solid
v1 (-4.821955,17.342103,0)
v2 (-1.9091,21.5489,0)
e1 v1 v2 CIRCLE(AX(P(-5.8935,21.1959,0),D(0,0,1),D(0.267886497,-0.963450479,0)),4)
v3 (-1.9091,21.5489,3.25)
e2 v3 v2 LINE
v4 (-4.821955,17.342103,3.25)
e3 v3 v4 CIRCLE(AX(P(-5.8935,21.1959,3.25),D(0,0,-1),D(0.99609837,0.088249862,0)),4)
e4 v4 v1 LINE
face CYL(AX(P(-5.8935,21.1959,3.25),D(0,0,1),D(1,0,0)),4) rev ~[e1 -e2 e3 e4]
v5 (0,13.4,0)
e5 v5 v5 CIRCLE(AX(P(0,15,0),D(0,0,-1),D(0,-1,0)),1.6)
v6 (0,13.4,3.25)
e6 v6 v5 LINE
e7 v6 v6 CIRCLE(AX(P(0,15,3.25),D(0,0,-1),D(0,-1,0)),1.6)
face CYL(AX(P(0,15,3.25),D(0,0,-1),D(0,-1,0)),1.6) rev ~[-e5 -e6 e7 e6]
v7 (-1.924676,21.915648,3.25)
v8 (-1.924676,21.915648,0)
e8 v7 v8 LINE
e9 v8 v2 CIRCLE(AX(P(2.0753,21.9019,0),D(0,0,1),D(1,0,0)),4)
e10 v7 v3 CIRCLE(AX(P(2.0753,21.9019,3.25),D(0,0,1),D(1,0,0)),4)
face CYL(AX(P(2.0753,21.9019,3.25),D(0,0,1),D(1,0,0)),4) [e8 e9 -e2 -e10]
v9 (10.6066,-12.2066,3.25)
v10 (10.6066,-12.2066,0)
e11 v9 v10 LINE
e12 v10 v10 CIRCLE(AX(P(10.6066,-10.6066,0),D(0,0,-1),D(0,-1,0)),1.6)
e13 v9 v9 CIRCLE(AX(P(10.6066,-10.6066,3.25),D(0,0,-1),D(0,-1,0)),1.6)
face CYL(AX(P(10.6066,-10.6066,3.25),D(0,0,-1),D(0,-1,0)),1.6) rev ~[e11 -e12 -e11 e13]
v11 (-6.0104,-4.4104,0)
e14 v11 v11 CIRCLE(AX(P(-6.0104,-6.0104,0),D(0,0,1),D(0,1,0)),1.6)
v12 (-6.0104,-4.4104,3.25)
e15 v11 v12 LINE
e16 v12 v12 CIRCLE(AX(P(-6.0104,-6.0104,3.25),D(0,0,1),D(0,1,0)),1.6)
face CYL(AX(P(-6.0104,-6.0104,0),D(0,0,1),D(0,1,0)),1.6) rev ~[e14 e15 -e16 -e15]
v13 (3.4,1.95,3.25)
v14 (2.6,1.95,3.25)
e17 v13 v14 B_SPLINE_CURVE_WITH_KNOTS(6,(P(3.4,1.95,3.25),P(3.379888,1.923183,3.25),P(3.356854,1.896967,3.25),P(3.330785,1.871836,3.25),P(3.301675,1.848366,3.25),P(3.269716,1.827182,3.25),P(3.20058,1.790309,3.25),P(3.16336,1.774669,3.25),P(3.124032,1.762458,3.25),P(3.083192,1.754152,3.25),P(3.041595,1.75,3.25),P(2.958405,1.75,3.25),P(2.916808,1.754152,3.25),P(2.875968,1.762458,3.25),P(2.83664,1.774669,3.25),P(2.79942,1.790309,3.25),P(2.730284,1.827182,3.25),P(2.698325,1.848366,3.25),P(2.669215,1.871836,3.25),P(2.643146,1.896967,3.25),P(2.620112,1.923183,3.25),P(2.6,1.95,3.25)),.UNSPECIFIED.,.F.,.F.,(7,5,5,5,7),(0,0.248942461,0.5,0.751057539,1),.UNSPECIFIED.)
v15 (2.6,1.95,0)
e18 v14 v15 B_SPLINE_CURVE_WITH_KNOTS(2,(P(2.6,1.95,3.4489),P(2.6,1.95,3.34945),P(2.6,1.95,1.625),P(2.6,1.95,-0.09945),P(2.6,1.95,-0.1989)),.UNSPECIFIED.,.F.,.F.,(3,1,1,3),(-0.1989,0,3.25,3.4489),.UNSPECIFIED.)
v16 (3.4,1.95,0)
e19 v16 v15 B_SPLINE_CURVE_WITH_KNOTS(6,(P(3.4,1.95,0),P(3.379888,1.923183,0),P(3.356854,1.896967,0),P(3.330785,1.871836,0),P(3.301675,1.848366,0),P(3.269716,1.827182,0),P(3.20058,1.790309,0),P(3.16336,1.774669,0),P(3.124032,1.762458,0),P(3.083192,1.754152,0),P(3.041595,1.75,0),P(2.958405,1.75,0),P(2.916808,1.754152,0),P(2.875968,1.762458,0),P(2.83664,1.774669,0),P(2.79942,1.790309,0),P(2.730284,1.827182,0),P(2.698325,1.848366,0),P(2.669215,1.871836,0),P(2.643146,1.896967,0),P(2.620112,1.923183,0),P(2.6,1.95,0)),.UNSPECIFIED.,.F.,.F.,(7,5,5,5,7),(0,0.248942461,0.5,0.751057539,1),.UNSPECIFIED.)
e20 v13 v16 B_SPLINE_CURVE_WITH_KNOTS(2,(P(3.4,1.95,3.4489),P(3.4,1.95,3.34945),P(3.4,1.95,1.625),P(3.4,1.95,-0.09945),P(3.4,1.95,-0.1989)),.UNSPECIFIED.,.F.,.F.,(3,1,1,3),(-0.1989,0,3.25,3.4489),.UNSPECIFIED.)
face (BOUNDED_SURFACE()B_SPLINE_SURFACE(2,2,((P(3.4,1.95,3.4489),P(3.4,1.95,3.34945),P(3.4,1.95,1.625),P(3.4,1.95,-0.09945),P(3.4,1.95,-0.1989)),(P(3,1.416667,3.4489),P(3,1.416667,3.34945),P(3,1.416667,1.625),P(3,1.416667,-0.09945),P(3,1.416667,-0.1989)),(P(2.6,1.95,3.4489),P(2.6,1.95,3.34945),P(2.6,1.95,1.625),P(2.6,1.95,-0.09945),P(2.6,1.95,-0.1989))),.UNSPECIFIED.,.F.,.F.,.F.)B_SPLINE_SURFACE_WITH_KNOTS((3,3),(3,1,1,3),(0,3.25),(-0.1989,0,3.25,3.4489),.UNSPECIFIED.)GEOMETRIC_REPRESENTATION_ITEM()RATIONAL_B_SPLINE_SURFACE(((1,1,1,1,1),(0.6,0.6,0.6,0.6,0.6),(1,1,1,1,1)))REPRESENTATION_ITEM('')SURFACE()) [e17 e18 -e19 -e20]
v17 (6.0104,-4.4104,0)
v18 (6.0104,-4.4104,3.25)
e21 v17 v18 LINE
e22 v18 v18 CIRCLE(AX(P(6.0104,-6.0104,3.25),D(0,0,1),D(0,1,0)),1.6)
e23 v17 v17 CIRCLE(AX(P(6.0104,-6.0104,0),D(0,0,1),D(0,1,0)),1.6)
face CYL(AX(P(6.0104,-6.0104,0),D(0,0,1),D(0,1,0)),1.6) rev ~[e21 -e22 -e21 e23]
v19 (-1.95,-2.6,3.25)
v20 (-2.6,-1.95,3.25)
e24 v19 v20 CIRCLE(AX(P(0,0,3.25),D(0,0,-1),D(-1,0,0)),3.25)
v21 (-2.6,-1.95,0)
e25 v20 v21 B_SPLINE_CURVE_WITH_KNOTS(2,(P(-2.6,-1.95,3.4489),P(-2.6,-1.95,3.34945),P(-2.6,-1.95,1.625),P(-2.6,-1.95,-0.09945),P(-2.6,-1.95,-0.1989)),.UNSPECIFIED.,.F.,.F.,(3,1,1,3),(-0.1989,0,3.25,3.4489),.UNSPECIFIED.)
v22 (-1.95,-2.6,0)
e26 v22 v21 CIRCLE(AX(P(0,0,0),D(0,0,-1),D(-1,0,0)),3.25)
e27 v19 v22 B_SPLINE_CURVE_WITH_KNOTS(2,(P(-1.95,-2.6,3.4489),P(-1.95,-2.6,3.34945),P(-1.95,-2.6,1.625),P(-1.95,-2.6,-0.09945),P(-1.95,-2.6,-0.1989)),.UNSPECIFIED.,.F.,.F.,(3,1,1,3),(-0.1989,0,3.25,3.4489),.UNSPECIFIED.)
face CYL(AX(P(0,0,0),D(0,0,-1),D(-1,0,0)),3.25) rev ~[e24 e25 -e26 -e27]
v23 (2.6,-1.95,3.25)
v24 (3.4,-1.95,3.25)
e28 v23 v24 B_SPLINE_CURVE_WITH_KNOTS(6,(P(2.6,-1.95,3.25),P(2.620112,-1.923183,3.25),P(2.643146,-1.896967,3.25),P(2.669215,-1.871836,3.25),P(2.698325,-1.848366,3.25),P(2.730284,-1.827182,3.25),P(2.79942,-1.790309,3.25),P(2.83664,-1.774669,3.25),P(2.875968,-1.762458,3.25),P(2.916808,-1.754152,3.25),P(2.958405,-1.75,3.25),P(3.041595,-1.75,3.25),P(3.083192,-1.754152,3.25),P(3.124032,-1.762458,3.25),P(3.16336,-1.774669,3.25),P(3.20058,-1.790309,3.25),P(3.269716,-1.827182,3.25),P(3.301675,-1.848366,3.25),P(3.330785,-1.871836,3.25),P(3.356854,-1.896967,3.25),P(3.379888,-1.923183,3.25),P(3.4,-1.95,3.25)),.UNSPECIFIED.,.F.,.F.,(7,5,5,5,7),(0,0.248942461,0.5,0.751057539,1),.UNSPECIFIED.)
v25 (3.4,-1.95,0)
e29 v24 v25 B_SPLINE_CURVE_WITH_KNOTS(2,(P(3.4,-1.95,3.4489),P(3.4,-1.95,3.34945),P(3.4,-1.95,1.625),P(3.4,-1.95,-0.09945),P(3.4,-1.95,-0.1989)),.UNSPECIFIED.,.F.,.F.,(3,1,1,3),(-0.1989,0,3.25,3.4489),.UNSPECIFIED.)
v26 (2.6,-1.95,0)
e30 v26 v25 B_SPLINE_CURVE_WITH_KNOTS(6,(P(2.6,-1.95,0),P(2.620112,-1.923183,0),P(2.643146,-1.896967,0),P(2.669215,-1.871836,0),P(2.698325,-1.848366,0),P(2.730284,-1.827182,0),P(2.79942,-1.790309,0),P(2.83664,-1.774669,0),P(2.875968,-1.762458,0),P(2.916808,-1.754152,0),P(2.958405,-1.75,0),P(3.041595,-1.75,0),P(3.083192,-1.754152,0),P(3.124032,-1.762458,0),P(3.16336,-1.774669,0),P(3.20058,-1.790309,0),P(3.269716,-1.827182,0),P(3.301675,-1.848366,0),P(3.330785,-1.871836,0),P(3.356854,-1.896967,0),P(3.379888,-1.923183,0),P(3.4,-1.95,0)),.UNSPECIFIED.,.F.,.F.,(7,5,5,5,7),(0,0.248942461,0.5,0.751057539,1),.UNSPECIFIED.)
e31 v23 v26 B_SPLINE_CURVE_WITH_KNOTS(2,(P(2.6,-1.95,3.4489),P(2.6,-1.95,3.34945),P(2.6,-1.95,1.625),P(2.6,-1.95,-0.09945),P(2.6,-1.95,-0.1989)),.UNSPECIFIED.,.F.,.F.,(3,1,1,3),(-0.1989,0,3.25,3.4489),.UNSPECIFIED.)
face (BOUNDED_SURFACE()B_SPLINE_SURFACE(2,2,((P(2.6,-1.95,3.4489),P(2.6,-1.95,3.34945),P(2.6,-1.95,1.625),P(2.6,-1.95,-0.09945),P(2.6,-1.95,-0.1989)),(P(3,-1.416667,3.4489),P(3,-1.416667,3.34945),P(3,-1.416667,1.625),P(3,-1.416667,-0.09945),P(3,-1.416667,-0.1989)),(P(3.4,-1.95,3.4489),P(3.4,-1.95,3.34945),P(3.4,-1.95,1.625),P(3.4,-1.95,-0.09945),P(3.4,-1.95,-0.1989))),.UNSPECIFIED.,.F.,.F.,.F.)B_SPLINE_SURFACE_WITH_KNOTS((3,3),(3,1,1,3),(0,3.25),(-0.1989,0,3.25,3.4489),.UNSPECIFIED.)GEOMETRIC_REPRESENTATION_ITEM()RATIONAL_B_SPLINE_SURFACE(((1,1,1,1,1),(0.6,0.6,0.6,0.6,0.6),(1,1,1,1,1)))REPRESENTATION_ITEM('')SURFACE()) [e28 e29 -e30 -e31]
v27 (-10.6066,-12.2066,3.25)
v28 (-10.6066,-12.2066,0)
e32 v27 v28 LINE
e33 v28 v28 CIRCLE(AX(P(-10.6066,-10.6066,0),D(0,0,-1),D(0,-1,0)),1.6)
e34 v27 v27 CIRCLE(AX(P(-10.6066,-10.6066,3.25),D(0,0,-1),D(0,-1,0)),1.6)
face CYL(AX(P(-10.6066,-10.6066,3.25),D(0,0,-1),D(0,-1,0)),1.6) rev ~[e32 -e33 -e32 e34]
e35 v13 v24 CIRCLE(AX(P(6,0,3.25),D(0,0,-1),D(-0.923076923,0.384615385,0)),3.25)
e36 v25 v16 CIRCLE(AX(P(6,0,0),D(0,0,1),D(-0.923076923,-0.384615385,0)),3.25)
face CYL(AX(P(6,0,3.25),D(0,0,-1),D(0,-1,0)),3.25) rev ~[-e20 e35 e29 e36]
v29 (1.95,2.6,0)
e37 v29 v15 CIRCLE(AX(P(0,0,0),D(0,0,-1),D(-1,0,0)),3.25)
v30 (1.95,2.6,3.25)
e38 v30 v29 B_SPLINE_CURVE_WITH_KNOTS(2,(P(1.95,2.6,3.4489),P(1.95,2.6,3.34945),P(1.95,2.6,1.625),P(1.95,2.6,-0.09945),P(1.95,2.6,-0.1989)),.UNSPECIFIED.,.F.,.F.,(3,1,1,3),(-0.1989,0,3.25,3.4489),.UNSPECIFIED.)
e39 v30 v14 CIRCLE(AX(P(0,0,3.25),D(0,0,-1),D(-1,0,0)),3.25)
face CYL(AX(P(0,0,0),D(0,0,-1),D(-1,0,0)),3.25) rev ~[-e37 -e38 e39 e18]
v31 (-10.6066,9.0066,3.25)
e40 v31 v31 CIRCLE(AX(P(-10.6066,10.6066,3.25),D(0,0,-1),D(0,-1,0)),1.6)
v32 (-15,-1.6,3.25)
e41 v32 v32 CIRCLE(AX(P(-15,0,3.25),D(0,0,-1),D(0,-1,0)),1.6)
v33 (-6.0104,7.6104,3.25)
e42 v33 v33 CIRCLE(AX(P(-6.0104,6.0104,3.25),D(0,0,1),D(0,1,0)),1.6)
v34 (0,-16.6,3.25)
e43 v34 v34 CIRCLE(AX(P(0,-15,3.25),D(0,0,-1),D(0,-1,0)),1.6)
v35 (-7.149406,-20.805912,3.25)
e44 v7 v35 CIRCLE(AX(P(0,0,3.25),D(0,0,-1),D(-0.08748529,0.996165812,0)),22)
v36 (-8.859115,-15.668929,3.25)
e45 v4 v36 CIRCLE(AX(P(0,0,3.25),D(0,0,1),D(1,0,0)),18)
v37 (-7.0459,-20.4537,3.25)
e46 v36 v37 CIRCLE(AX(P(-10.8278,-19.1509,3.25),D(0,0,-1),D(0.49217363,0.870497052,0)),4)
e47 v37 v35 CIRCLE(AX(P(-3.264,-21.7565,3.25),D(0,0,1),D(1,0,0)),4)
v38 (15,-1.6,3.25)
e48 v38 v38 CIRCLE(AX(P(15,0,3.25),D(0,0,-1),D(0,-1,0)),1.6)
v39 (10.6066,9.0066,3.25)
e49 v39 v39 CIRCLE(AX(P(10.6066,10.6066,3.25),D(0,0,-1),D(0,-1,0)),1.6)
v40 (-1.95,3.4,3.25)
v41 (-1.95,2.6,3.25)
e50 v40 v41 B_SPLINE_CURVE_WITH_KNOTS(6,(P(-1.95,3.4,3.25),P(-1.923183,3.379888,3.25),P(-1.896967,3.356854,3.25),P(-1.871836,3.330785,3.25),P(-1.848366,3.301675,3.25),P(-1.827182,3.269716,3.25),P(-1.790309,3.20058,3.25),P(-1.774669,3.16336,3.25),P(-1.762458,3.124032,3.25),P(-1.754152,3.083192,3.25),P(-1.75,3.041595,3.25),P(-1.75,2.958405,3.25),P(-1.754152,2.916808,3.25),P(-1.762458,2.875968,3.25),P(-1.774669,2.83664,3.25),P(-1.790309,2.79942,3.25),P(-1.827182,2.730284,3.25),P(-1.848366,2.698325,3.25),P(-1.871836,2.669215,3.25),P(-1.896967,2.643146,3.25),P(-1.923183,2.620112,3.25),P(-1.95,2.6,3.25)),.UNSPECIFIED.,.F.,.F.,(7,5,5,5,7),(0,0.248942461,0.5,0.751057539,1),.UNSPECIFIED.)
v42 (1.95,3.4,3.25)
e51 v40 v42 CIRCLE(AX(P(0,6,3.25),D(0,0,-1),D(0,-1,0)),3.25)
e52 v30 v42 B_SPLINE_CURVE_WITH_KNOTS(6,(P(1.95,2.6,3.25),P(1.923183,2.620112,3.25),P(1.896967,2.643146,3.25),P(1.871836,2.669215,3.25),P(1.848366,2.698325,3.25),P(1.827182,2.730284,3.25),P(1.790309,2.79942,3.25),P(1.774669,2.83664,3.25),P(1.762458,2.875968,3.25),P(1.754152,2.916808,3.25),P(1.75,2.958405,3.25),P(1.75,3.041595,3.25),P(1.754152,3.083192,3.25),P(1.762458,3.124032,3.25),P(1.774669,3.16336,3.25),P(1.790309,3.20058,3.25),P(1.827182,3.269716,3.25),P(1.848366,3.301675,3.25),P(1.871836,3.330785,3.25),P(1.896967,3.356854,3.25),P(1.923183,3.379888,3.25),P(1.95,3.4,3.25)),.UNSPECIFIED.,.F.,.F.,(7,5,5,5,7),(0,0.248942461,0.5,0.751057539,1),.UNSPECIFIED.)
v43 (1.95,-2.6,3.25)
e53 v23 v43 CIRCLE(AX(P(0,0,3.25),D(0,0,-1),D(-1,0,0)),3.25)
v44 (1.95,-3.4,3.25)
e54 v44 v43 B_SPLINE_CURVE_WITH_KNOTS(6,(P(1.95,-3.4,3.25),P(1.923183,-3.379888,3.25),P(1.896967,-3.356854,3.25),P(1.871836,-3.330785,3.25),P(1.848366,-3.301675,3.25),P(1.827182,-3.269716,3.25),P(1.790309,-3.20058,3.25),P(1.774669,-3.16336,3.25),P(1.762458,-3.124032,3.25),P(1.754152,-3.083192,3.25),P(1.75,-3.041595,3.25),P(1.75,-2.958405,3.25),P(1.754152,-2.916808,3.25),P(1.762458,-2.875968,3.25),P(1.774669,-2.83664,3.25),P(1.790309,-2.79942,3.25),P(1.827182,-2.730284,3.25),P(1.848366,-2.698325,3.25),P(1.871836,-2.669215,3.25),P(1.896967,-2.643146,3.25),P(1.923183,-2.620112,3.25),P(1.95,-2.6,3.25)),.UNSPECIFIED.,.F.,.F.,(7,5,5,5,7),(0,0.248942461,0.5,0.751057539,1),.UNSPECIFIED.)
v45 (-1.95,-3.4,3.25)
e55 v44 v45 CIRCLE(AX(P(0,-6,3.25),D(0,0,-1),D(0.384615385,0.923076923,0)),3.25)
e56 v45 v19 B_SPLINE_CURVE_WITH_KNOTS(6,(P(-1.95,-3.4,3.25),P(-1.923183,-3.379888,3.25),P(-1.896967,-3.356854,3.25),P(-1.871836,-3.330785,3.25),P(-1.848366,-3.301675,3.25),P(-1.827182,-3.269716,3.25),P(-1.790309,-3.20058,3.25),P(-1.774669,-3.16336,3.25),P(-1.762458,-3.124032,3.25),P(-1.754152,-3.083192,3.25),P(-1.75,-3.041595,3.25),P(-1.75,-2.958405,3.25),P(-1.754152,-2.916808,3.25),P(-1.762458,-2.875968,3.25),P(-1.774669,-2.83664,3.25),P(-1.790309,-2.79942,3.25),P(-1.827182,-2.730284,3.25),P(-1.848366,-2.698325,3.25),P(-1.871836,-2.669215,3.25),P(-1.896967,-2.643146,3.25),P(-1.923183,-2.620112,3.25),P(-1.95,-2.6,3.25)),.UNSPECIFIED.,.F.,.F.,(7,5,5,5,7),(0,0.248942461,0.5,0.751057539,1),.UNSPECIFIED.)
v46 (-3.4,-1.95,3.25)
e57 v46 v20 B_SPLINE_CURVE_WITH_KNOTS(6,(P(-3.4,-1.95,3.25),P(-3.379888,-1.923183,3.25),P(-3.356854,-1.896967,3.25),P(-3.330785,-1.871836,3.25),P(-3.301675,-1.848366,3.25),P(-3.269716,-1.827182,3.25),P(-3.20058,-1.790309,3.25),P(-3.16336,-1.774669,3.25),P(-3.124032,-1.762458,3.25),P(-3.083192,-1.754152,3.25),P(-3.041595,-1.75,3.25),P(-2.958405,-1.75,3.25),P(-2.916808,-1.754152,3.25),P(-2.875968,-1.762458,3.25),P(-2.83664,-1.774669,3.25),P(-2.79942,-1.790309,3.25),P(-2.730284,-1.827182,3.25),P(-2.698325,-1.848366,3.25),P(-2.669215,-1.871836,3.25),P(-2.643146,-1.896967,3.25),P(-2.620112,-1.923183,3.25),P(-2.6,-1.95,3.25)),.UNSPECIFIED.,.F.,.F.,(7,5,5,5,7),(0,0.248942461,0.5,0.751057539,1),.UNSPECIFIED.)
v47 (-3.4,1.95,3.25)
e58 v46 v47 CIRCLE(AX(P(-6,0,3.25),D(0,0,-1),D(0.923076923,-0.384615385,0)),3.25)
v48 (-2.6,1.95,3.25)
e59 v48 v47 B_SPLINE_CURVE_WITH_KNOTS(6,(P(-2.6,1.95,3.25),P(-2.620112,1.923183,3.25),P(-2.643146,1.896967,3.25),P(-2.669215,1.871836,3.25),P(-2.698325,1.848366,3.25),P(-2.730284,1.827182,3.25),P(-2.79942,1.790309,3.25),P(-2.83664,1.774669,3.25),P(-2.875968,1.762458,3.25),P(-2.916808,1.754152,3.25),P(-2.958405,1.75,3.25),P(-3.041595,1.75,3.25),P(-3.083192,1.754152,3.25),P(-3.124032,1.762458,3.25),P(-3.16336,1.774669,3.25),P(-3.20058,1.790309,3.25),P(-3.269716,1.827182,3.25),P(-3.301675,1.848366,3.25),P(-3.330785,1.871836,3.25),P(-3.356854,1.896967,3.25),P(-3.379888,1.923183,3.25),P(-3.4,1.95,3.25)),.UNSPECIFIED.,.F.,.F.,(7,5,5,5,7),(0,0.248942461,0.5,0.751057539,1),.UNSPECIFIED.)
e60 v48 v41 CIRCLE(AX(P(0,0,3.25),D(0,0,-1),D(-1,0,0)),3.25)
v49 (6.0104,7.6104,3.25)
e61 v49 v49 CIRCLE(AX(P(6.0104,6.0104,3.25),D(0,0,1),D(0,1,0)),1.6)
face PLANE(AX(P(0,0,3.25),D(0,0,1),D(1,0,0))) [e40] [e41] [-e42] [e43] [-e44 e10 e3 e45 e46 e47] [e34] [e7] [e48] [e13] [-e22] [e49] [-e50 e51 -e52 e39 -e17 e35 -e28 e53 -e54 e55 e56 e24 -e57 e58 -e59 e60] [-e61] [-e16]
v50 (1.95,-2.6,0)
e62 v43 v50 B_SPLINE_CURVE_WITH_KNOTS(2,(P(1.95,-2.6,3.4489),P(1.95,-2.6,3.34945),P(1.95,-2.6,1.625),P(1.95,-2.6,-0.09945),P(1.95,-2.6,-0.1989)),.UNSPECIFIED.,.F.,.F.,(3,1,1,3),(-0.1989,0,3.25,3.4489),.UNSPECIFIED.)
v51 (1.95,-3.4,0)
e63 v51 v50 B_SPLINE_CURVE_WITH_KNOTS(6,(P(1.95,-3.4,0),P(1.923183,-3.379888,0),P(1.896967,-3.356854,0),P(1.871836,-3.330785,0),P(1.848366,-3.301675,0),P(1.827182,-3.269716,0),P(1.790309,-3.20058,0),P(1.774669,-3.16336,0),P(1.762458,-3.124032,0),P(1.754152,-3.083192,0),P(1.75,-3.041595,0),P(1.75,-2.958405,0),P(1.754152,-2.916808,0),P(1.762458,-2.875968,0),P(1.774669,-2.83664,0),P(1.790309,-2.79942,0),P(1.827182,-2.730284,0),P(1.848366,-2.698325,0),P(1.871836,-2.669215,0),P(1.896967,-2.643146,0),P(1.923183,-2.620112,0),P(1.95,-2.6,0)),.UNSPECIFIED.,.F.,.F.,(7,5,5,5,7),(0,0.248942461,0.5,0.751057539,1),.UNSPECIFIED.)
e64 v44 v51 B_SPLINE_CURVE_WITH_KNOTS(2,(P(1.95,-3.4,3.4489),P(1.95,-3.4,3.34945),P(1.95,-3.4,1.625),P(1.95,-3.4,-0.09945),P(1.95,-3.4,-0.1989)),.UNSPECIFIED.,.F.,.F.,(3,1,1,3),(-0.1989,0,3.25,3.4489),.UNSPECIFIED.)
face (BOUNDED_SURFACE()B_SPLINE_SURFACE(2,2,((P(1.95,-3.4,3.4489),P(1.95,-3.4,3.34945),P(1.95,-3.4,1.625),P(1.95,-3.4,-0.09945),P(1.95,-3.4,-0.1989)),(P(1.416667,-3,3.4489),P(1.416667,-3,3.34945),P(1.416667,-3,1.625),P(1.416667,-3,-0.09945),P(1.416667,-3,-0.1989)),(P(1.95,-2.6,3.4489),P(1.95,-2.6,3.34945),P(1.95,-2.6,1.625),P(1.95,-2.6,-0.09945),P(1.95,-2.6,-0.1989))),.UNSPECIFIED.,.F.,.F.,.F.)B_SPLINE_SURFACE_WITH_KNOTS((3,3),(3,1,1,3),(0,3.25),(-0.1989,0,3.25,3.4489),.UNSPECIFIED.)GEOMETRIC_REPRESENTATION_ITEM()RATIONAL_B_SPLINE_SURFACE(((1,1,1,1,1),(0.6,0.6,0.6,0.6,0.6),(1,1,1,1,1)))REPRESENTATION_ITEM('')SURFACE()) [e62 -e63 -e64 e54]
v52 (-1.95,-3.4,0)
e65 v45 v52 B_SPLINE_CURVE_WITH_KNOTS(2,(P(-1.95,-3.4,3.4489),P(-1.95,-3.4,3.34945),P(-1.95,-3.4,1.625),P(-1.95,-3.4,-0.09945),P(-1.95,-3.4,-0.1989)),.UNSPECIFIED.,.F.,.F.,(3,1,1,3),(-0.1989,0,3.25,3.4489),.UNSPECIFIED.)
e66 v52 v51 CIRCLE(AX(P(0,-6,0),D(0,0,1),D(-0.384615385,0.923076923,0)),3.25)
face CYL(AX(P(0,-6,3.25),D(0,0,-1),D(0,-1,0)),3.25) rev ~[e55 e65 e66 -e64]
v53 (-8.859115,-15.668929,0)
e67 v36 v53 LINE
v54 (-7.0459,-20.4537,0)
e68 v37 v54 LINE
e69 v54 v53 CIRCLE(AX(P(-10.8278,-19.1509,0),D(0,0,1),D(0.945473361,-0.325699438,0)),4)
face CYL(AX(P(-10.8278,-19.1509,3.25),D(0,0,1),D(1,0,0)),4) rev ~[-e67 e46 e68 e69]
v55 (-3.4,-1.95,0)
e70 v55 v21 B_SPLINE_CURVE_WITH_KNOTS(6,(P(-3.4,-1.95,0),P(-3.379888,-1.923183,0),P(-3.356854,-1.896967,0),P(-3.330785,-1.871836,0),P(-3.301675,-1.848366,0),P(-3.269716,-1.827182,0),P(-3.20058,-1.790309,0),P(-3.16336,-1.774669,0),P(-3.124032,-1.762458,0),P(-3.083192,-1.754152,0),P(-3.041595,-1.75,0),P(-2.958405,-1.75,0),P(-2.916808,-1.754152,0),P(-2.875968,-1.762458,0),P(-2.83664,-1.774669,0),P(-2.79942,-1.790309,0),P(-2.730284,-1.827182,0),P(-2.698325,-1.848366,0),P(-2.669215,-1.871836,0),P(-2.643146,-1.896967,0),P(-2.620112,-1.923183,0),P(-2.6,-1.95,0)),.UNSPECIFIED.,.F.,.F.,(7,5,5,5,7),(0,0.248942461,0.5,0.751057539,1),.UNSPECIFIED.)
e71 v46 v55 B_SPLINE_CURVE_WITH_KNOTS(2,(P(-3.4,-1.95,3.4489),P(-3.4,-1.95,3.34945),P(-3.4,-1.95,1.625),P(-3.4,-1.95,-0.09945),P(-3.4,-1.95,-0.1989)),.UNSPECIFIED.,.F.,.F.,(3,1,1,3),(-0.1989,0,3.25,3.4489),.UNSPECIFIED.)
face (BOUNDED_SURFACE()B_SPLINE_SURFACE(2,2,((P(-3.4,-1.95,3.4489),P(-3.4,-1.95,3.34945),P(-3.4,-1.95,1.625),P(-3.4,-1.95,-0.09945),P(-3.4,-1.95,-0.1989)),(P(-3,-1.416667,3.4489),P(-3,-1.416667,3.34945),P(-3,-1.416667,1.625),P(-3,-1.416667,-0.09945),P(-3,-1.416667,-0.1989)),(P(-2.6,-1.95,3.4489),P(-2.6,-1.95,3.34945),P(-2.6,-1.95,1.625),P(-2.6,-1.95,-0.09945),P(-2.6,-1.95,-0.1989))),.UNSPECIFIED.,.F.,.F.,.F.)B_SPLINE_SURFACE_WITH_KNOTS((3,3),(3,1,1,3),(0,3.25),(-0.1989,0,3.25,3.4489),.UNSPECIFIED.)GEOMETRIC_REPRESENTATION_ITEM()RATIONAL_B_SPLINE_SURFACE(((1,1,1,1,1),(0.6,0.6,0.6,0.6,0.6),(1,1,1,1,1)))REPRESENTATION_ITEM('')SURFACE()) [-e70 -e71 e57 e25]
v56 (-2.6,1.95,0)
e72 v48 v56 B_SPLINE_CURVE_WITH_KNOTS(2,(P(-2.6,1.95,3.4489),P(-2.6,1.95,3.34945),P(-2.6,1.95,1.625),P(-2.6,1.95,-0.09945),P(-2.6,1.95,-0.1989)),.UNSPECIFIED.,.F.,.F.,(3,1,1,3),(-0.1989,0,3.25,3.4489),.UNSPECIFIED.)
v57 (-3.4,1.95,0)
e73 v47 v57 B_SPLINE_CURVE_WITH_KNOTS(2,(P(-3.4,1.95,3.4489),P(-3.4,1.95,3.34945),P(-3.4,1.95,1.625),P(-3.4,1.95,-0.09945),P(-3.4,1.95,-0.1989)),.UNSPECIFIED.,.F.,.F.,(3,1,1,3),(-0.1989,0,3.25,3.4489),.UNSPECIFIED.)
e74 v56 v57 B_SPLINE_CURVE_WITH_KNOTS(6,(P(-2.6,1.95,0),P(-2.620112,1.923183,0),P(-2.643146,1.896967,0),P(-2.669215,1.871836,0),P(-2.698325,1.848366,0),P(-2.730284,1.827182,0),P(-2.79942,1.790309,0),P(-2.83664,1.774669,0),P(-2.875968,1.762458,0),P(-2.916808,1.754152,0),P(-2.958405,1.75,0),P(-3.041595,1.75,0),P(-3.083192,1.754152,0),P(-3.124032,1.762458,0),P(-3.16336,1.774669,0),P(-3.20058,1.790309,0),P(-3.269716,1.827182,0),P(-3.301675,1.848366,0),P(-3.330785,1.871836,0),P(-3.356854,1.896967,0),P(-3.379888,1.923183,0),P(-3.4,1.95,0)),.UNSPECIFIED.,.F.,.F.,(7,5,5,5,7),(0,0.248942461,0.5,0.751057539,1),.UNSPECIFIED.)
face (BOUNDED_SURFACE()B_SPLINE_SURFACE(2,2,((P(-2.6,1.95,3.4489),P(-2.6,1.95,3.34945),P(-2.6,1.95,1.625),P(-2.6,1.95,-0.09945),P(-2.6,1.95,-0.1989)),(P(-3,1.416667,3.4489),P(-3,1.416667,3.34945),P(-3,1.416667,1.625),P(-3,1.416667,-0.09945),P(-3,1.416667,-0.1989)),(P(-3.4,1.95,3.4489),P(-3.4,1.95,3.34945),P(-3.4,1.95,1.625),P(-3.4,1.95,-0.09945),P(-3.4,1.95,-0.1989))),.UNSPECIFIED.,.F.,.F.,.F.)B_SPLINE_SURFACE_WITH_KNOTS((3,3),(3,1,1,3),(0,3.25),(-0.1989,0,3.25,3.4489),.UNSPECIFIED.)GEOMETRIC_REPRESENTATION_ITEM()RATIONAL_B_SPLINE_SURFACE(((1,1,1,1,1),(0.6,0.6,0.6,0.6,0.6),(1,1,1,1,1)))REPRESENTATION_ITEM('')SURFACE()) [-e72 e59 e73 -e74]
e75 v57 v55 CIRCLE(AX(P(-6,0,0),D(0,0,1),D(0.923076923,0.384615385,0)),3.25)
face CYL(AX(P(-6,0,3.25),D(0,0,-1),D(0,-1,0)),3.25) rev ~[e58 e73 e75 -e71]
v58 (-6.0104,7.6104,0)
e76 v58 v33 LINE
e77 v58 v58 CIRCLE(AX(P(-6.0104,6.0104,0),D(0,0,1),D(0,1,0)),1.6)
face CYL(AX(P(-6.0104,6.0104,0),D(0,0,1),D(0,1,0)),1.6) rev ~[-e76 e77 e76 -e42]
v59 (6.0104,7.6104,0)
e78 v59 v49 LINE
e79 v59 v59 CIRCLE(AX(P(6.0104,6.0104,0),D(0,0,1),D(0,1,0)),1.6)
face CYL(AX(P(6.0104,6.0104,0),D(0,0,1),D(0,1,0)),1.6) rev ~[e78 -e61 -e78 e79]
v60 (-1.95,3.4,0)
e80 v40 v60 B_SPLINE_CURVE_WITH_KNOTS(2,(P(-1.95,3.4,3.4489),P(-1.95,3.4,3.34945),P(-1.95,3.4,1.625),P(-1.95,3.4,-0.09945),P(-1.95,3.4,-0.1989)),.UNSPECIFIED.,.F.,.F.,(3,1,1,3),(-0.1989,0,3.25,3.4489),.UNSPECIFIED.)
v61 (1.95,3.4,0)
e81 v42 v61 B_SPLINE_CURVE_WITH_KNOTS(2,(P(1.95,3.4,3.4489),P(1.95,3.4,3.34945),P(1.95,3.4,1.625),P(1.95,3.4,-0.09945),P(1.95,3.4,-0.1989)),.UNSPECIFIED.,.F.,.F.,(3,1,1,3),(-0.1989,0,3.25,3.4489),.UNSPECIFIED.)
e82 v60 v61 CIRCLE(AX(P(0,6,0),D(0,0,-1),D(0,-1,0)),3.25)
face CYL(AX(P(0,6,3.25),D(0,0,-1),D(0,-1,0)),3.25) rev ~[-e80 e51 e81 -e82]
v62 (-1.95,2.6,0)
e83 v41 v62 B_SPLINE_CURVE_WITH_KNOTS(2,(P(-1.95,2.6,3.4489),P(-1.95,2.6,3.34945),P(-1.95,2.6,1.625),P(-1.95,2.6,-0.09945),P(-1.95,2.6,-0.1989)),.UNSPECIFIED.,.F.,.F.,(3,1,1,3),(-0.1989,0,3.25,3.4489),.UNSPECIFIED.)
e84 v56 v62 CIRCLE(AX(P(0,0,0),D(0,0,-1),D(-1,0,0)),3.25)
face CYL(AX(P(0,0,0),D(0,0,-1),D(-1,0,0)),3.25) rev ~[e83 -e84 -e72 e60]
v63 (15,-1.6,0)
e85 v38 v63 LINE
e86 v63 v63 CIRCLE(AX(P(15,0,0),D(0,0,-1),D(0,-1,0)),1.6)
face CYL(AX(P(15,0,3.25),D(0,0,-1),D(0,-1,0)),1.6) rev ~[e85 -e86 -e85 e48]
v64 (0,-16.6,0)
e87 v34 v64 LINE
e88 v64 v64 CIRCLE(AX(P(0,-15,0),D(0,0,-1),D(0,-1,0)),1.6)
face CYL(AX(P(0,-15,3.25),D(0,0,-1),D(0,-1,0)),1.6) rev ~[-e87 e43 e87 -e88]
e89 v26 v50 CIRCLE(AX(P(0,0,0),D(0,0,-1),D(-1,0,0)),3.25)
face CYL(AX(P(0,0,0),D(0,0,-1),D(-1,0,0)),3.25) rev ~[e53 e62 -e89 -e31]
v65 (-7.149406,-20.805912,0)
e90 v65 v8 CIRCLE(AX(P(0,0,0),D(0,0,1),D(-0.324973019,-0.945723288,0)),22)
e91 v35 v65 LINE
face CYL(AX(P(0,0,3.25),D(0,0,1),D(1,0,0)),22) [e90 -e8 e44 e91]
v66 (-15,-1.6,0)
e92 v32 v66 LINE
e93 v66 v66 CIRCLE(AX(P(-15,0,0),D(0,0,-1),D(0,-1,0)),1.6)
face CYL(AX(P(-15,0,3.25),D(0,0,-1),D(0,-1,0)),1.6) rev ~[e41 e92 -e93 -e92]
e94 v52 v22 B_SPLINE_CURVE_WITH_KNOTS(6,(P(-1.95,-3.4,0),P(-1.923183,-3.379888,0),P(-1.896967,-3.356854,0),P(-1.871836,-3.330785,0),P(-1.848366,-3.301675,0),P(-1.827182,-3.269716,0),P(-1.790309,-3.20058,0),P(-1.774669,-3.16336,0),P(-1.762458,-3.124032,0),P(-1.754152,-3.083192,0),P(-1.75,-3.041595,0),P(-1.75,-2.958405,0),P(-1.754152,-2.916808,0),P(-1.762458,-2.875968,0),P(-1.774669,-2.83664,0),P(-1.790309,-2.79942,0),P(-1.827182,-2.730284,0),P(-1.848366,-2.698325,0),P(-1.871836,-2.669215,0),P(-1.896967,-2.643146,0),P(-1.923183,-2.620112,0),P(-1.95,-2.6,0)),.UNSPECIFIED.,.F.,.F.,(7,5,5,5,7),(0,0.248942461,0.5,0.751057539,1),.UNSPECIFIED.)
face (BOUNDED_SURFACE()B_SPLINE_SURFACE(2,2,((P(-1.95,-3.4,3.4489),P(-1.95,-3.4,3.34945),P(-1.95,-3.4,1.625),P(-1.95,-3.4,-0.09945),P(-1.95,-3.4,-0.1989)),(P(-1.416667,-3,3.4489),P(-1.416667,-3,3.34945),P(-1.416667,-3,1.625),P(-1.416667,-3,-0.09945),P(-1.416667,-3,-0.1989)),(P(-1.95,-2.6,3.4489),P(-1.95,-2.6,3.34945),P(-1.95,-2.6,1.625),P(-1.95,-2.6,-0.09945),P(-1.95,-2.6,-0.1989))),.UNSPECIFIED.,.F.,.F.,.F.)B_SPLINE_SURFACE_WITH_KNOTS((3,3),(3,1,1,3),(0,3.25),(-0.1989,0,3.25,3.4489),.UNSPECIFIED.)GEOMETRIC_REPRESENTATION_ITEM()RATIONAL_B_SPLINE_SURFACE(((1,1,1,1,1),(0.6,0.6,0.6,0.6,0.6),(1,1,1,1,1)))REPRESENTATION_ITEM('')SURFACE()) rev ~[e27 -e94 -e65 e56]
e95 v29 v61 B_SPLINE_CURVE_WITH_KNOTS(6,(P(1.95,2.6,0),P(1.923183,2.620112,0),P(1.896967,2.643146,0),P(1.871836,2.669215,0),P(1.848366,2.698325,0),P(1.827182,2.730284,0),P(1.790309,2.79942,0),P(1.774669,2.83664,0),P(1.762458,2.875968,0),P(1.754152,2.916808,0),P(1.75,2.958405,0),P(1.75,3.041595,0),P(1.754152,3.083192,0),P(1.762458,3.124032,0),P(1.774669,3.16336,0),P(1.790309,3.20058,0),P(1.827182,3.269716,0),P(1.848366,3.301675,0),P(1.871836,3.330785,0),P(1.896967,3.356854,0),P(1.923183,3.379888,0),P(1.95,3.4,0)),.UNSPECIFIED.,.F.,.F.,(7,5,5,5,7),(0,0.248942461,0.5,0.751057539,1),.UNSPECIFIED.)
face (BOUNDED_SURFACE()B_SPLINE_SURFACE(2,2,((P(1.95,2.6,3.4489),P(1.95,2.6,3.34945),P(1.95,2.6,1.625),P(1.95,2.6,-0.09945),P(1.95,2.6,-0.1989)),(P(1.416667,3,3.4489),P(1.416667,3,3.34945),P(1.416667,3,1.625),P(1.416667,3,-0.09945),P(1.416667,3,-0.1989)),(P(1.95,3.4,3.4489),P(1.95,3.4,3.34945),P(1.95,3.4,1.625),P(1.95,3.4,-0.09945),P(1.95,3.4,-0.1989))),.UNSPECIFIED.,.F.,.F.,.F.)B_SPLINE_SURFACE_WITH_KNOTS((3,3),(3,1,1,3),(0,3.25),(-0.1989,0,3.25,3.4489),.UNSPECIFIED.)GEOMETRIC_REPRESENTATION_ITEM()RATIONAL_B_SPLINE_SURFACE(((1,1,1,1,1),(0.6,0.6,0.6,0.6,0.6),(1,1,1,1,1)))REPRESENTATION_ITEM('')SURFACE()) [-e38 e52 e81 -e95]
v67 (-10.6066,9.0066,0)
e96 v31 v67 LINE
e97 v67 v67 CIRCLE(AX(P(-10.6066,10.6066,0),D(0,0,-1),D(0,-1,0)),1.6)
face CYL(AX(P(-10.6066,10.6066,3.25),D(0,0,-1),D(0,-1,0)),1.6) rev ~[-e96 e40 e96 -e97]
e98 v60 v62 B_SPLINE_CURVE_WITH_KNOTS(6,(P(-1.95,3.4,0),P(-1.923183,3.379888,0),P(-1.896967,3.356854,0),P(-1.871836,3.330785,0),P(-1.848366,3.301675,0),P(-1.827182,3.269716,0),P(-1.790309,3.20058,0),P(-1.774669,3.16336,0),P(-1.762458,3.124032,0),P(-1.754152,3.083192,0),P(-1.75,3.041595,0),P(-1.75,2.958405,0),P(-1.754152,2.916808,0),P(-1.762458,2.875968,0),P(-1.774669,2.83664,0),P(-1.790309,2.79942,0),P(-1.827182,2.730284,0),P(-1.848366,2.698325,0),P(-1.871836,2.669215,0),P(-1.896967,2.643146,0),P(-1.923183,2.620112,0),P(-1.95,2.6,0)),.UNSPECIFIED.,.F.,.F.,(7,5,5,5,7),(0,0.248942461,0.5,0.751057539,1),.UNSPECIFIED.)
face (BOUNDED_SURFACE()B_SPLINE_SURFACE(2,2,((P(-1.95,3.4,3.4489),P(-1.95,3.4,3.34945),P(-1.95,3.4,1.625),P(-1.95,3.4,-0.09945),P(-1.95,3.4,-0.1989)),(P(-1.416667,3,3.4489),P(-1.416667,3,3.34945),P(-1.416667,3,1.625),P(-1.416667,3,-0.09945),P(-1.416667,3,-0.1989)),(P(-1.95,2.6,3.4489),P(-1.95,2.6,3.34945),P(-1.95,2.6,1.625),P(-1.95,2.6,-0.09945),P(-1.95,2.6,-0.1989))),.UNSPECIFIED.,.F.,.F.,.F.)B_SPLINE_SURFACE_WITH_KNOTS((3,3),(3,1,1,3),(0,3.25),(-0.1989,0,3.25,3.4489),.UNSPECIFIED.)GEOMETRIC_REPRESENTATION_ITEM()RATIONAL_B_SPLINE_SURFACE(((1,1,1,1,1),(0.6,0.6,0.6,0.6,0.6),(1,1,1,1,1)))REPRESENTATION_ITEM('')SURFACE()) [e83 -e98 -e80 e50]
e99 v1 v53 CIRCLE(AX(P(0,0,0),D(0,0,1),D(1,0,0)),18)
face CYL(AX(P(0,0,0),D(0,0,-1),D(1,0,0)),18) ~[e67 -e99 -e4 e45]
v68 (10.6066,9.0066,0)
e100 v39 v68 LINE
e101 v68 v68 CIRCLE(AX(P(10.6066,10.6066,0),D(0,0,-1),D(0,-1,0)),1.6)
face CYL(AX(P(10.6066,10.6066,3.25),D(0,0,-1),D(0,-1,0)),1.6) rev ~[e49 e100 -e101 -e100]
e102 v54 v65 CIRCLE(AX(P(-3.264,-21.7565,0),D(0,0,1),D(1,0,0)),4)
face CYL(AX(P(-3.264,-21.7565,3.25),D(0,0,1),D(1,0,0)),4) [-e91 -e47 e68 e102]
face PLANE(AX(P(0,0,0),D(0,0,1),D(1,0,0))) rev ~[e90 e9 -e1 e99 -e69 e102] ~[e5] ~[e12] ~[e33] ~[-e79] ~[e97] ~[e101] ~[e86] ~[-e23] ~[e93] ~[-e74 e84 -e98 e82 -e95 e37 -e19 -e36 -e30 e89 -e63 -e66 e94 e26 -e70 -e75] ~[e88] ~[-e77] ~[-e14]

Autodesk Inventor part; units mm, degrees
ref_plane "YZ Plane" through (0, 0, 0) normal (1, 0, 0) x (0, 1, 0)
ref_plane "XZ Plane" through (0, 0, 0) normal (0, 1, 0) x (-1, 0, 0)
ref_plane "XY Plane" through (0, 0, 0) normal (0, 0, 1) x (1, 0, 0)
sketch "スケッチ1" plane through (0, 0, 0) normal (0, 0, 1) x (1, 0, 0)
  circle A0 centre (0, 0) radius 18
  dimension "d0" = 36
extrude "押し出し1" add sketch "スケッチ1" along normal blind 3.25
sketch "スケッチ2" plane through (0, 0, 3.25) normal (0, 0, 1) x (1, 0, 0)
  circle A0 centre (0, 0) radius 6
  point P0 (0, 6)
  point P1 (-6, 0)
  point P2 (0, -6)
  point P3 (6, 0)
  dimension "d3" = 12
  dimension "d6" = 360
hole "穴1" at (0, 6, 3.25) at (-6, 0, 3.25) at (0, -6, 3.25) at (6, 0, 3.25) direction (0, 0, -1) diameter 3.2 end through all counterbore diameter 6.5 counterbore depth 4 clearance for "Socket Head Cap Screw" size "M3" standard "Ansi Metric M Profile"
sketch "スケッチ3" plane through (0, 0, 0) normal (0, 0, -1) x (-1, 0, 0)
  circle A0 centre (0, 0) radius 8.5
  point P0 (-6.0104, 6.0104)
  point P1 (-6.0104, -6.0104)
  point P2 (6.0104, -6.0104)
  point P3 (6.0104, 6.0104)
  dimension "d15" = 17
  dimension "d50" = 8
  dimension "d18" = 360
hole "穴2" at (6.0104, 6.0104, 0) at (6.0104, -6.0104, 0) at (-6.0104, -6.0104, 0) at (-6.0104, 6.0104, 0) direction (0, 0, 1) diameter 3.2 end through all clearance for "Socket Head Cap Screw" size "M3" standard "Ansi Metric M Profile"
sketch "スケッチ4" plane through (0, 0, 0) normal (0, 0, -1) x (-1, 0, 0)
  circle A0 centre (0, 0) radius 3.25
  dimension "d27" = 6.5
extrude "押し出し2" cut sketch "スケッチ4" against normal blind 8
fillet "フィレット1" radius 0.5 8 edges at (-1.25, -3, 1.625) (1.25, -3, 1.625) (3, -1.25, 1.625) (3, 1.25, 1.625) (1.25, 3, 1.625) (-1.25, 3, 1.625) (-3, 1.25, 1.625) (-3, -1.25, 1.625)
sketch "スケッチ5" plane through (0, 0, 3.25) normal (0, 0, 1) x (1, 0, 0)
  circle A0 centre (0, 0) radius 15
  point P0 (0, -15)
  point P1 (10.6066, -10.6066)
  point P2 (15, 0)
  point P3 (10.6066, 10.6066)
  point P4 (0, 15)
  point P5 (-10.6066, 10.6066)
  point P6 (-15, 0)
  point P7 (-10.6066, -10.6066)
  dimension "d31" = 30
  dimension "d34" = 360
hole "穴3" at (0, -15, 3.25) at (10.6066, -10.6066, 3.25) at (15, 0, 3.25) at (10.6066, 10.6066, 3.25) at (0, 15, 3.25) at (-10.6066, 10.6066, 3.25) at (-15, 0, 3.25) at (-10.6066, -10.6066, 3.25) direction (0, 0, -1) diameter 3.2 end through all clearance for "Socket Head Cap Screw" size "M3" standard "Ansi Metric M Profile"
sketch "スケッチ6" plane through (0, 0, 3.25) normal (0, 0, 1) x (1, 0, 0)
  circle A0 centre (2.0753, 21.9019) radius 4
  circle A1 centre (-17, 14) radius 4 construction
  circle A2 centre (-3.264, -21.7565) radius 4
  circle A3 centre (0, 0) radius 18 projected
  line L0 (-3.264, -21.7565) -> (0, 0) construction
  circle A4 centre (-20.8592, 6.9924) radius 4 construction
  circle A5 centre (-10.8624, 19.1313) radius 4 construction
  line L1 (-10.8624, 19.1313) -> (0, 0) construction
  line L2 (0, 0) -> (-20.8592, 6.9924) construction
  line L3 (0, 0) -> (2.0753, 21.9019) construction
  arc A6 (-3.8575, -25.7123) -> (2.4526, 25.8841) centre (0, 0) ccw
  circle A7 centre (0, 0) radius 18 projected
  circle A8 centre (-5.8935, 21.1959) radius 4
  circle A9 centre (-10.8278, -19.1509) radius 4
  circle A10 centre (0, 0) radius 22
  point P0 (1.698, 17.9197)
  point P1 (-2.6705, -17.8008)
  point P2 (-1.9091, 21.5489)
  point P3 (-7.1494, -20.8059)
  point P4 (-1.9091, 21.5489)
  point P5 (-4.822, 17.3421)
  point P6 (-8.8591, -15.669)
  point P7 (-7.0459, -20.4537)
  point P8 (-1.9247, 21.9156)
  dimension "d59" = 44
  dimension "d45" = 17
  dimension "d46" = 14
  dimension "d47" = 8
  dimension "d48" = 8
  dimension "d49" = 8
  dimension "d50" = 8
  dimension "d51" = 8
  dimension "d52" = 35
  dimension "d53" = 100
  dimension "d57" = 8
  dimension "d58" = 8
extrude "押し出し3" add sketch "スケッチ6" against normal up to surface (3.25 mm away) contours A10 A2 A3 A0 | A0 A10 | A3 A8 A0 | A2 A10 | A9 A3 A2 picked at (1.947, 20.5476) picked at (-3.0622, -20.4112)
properties part number "s_base5" material "ABS プラスチック"
